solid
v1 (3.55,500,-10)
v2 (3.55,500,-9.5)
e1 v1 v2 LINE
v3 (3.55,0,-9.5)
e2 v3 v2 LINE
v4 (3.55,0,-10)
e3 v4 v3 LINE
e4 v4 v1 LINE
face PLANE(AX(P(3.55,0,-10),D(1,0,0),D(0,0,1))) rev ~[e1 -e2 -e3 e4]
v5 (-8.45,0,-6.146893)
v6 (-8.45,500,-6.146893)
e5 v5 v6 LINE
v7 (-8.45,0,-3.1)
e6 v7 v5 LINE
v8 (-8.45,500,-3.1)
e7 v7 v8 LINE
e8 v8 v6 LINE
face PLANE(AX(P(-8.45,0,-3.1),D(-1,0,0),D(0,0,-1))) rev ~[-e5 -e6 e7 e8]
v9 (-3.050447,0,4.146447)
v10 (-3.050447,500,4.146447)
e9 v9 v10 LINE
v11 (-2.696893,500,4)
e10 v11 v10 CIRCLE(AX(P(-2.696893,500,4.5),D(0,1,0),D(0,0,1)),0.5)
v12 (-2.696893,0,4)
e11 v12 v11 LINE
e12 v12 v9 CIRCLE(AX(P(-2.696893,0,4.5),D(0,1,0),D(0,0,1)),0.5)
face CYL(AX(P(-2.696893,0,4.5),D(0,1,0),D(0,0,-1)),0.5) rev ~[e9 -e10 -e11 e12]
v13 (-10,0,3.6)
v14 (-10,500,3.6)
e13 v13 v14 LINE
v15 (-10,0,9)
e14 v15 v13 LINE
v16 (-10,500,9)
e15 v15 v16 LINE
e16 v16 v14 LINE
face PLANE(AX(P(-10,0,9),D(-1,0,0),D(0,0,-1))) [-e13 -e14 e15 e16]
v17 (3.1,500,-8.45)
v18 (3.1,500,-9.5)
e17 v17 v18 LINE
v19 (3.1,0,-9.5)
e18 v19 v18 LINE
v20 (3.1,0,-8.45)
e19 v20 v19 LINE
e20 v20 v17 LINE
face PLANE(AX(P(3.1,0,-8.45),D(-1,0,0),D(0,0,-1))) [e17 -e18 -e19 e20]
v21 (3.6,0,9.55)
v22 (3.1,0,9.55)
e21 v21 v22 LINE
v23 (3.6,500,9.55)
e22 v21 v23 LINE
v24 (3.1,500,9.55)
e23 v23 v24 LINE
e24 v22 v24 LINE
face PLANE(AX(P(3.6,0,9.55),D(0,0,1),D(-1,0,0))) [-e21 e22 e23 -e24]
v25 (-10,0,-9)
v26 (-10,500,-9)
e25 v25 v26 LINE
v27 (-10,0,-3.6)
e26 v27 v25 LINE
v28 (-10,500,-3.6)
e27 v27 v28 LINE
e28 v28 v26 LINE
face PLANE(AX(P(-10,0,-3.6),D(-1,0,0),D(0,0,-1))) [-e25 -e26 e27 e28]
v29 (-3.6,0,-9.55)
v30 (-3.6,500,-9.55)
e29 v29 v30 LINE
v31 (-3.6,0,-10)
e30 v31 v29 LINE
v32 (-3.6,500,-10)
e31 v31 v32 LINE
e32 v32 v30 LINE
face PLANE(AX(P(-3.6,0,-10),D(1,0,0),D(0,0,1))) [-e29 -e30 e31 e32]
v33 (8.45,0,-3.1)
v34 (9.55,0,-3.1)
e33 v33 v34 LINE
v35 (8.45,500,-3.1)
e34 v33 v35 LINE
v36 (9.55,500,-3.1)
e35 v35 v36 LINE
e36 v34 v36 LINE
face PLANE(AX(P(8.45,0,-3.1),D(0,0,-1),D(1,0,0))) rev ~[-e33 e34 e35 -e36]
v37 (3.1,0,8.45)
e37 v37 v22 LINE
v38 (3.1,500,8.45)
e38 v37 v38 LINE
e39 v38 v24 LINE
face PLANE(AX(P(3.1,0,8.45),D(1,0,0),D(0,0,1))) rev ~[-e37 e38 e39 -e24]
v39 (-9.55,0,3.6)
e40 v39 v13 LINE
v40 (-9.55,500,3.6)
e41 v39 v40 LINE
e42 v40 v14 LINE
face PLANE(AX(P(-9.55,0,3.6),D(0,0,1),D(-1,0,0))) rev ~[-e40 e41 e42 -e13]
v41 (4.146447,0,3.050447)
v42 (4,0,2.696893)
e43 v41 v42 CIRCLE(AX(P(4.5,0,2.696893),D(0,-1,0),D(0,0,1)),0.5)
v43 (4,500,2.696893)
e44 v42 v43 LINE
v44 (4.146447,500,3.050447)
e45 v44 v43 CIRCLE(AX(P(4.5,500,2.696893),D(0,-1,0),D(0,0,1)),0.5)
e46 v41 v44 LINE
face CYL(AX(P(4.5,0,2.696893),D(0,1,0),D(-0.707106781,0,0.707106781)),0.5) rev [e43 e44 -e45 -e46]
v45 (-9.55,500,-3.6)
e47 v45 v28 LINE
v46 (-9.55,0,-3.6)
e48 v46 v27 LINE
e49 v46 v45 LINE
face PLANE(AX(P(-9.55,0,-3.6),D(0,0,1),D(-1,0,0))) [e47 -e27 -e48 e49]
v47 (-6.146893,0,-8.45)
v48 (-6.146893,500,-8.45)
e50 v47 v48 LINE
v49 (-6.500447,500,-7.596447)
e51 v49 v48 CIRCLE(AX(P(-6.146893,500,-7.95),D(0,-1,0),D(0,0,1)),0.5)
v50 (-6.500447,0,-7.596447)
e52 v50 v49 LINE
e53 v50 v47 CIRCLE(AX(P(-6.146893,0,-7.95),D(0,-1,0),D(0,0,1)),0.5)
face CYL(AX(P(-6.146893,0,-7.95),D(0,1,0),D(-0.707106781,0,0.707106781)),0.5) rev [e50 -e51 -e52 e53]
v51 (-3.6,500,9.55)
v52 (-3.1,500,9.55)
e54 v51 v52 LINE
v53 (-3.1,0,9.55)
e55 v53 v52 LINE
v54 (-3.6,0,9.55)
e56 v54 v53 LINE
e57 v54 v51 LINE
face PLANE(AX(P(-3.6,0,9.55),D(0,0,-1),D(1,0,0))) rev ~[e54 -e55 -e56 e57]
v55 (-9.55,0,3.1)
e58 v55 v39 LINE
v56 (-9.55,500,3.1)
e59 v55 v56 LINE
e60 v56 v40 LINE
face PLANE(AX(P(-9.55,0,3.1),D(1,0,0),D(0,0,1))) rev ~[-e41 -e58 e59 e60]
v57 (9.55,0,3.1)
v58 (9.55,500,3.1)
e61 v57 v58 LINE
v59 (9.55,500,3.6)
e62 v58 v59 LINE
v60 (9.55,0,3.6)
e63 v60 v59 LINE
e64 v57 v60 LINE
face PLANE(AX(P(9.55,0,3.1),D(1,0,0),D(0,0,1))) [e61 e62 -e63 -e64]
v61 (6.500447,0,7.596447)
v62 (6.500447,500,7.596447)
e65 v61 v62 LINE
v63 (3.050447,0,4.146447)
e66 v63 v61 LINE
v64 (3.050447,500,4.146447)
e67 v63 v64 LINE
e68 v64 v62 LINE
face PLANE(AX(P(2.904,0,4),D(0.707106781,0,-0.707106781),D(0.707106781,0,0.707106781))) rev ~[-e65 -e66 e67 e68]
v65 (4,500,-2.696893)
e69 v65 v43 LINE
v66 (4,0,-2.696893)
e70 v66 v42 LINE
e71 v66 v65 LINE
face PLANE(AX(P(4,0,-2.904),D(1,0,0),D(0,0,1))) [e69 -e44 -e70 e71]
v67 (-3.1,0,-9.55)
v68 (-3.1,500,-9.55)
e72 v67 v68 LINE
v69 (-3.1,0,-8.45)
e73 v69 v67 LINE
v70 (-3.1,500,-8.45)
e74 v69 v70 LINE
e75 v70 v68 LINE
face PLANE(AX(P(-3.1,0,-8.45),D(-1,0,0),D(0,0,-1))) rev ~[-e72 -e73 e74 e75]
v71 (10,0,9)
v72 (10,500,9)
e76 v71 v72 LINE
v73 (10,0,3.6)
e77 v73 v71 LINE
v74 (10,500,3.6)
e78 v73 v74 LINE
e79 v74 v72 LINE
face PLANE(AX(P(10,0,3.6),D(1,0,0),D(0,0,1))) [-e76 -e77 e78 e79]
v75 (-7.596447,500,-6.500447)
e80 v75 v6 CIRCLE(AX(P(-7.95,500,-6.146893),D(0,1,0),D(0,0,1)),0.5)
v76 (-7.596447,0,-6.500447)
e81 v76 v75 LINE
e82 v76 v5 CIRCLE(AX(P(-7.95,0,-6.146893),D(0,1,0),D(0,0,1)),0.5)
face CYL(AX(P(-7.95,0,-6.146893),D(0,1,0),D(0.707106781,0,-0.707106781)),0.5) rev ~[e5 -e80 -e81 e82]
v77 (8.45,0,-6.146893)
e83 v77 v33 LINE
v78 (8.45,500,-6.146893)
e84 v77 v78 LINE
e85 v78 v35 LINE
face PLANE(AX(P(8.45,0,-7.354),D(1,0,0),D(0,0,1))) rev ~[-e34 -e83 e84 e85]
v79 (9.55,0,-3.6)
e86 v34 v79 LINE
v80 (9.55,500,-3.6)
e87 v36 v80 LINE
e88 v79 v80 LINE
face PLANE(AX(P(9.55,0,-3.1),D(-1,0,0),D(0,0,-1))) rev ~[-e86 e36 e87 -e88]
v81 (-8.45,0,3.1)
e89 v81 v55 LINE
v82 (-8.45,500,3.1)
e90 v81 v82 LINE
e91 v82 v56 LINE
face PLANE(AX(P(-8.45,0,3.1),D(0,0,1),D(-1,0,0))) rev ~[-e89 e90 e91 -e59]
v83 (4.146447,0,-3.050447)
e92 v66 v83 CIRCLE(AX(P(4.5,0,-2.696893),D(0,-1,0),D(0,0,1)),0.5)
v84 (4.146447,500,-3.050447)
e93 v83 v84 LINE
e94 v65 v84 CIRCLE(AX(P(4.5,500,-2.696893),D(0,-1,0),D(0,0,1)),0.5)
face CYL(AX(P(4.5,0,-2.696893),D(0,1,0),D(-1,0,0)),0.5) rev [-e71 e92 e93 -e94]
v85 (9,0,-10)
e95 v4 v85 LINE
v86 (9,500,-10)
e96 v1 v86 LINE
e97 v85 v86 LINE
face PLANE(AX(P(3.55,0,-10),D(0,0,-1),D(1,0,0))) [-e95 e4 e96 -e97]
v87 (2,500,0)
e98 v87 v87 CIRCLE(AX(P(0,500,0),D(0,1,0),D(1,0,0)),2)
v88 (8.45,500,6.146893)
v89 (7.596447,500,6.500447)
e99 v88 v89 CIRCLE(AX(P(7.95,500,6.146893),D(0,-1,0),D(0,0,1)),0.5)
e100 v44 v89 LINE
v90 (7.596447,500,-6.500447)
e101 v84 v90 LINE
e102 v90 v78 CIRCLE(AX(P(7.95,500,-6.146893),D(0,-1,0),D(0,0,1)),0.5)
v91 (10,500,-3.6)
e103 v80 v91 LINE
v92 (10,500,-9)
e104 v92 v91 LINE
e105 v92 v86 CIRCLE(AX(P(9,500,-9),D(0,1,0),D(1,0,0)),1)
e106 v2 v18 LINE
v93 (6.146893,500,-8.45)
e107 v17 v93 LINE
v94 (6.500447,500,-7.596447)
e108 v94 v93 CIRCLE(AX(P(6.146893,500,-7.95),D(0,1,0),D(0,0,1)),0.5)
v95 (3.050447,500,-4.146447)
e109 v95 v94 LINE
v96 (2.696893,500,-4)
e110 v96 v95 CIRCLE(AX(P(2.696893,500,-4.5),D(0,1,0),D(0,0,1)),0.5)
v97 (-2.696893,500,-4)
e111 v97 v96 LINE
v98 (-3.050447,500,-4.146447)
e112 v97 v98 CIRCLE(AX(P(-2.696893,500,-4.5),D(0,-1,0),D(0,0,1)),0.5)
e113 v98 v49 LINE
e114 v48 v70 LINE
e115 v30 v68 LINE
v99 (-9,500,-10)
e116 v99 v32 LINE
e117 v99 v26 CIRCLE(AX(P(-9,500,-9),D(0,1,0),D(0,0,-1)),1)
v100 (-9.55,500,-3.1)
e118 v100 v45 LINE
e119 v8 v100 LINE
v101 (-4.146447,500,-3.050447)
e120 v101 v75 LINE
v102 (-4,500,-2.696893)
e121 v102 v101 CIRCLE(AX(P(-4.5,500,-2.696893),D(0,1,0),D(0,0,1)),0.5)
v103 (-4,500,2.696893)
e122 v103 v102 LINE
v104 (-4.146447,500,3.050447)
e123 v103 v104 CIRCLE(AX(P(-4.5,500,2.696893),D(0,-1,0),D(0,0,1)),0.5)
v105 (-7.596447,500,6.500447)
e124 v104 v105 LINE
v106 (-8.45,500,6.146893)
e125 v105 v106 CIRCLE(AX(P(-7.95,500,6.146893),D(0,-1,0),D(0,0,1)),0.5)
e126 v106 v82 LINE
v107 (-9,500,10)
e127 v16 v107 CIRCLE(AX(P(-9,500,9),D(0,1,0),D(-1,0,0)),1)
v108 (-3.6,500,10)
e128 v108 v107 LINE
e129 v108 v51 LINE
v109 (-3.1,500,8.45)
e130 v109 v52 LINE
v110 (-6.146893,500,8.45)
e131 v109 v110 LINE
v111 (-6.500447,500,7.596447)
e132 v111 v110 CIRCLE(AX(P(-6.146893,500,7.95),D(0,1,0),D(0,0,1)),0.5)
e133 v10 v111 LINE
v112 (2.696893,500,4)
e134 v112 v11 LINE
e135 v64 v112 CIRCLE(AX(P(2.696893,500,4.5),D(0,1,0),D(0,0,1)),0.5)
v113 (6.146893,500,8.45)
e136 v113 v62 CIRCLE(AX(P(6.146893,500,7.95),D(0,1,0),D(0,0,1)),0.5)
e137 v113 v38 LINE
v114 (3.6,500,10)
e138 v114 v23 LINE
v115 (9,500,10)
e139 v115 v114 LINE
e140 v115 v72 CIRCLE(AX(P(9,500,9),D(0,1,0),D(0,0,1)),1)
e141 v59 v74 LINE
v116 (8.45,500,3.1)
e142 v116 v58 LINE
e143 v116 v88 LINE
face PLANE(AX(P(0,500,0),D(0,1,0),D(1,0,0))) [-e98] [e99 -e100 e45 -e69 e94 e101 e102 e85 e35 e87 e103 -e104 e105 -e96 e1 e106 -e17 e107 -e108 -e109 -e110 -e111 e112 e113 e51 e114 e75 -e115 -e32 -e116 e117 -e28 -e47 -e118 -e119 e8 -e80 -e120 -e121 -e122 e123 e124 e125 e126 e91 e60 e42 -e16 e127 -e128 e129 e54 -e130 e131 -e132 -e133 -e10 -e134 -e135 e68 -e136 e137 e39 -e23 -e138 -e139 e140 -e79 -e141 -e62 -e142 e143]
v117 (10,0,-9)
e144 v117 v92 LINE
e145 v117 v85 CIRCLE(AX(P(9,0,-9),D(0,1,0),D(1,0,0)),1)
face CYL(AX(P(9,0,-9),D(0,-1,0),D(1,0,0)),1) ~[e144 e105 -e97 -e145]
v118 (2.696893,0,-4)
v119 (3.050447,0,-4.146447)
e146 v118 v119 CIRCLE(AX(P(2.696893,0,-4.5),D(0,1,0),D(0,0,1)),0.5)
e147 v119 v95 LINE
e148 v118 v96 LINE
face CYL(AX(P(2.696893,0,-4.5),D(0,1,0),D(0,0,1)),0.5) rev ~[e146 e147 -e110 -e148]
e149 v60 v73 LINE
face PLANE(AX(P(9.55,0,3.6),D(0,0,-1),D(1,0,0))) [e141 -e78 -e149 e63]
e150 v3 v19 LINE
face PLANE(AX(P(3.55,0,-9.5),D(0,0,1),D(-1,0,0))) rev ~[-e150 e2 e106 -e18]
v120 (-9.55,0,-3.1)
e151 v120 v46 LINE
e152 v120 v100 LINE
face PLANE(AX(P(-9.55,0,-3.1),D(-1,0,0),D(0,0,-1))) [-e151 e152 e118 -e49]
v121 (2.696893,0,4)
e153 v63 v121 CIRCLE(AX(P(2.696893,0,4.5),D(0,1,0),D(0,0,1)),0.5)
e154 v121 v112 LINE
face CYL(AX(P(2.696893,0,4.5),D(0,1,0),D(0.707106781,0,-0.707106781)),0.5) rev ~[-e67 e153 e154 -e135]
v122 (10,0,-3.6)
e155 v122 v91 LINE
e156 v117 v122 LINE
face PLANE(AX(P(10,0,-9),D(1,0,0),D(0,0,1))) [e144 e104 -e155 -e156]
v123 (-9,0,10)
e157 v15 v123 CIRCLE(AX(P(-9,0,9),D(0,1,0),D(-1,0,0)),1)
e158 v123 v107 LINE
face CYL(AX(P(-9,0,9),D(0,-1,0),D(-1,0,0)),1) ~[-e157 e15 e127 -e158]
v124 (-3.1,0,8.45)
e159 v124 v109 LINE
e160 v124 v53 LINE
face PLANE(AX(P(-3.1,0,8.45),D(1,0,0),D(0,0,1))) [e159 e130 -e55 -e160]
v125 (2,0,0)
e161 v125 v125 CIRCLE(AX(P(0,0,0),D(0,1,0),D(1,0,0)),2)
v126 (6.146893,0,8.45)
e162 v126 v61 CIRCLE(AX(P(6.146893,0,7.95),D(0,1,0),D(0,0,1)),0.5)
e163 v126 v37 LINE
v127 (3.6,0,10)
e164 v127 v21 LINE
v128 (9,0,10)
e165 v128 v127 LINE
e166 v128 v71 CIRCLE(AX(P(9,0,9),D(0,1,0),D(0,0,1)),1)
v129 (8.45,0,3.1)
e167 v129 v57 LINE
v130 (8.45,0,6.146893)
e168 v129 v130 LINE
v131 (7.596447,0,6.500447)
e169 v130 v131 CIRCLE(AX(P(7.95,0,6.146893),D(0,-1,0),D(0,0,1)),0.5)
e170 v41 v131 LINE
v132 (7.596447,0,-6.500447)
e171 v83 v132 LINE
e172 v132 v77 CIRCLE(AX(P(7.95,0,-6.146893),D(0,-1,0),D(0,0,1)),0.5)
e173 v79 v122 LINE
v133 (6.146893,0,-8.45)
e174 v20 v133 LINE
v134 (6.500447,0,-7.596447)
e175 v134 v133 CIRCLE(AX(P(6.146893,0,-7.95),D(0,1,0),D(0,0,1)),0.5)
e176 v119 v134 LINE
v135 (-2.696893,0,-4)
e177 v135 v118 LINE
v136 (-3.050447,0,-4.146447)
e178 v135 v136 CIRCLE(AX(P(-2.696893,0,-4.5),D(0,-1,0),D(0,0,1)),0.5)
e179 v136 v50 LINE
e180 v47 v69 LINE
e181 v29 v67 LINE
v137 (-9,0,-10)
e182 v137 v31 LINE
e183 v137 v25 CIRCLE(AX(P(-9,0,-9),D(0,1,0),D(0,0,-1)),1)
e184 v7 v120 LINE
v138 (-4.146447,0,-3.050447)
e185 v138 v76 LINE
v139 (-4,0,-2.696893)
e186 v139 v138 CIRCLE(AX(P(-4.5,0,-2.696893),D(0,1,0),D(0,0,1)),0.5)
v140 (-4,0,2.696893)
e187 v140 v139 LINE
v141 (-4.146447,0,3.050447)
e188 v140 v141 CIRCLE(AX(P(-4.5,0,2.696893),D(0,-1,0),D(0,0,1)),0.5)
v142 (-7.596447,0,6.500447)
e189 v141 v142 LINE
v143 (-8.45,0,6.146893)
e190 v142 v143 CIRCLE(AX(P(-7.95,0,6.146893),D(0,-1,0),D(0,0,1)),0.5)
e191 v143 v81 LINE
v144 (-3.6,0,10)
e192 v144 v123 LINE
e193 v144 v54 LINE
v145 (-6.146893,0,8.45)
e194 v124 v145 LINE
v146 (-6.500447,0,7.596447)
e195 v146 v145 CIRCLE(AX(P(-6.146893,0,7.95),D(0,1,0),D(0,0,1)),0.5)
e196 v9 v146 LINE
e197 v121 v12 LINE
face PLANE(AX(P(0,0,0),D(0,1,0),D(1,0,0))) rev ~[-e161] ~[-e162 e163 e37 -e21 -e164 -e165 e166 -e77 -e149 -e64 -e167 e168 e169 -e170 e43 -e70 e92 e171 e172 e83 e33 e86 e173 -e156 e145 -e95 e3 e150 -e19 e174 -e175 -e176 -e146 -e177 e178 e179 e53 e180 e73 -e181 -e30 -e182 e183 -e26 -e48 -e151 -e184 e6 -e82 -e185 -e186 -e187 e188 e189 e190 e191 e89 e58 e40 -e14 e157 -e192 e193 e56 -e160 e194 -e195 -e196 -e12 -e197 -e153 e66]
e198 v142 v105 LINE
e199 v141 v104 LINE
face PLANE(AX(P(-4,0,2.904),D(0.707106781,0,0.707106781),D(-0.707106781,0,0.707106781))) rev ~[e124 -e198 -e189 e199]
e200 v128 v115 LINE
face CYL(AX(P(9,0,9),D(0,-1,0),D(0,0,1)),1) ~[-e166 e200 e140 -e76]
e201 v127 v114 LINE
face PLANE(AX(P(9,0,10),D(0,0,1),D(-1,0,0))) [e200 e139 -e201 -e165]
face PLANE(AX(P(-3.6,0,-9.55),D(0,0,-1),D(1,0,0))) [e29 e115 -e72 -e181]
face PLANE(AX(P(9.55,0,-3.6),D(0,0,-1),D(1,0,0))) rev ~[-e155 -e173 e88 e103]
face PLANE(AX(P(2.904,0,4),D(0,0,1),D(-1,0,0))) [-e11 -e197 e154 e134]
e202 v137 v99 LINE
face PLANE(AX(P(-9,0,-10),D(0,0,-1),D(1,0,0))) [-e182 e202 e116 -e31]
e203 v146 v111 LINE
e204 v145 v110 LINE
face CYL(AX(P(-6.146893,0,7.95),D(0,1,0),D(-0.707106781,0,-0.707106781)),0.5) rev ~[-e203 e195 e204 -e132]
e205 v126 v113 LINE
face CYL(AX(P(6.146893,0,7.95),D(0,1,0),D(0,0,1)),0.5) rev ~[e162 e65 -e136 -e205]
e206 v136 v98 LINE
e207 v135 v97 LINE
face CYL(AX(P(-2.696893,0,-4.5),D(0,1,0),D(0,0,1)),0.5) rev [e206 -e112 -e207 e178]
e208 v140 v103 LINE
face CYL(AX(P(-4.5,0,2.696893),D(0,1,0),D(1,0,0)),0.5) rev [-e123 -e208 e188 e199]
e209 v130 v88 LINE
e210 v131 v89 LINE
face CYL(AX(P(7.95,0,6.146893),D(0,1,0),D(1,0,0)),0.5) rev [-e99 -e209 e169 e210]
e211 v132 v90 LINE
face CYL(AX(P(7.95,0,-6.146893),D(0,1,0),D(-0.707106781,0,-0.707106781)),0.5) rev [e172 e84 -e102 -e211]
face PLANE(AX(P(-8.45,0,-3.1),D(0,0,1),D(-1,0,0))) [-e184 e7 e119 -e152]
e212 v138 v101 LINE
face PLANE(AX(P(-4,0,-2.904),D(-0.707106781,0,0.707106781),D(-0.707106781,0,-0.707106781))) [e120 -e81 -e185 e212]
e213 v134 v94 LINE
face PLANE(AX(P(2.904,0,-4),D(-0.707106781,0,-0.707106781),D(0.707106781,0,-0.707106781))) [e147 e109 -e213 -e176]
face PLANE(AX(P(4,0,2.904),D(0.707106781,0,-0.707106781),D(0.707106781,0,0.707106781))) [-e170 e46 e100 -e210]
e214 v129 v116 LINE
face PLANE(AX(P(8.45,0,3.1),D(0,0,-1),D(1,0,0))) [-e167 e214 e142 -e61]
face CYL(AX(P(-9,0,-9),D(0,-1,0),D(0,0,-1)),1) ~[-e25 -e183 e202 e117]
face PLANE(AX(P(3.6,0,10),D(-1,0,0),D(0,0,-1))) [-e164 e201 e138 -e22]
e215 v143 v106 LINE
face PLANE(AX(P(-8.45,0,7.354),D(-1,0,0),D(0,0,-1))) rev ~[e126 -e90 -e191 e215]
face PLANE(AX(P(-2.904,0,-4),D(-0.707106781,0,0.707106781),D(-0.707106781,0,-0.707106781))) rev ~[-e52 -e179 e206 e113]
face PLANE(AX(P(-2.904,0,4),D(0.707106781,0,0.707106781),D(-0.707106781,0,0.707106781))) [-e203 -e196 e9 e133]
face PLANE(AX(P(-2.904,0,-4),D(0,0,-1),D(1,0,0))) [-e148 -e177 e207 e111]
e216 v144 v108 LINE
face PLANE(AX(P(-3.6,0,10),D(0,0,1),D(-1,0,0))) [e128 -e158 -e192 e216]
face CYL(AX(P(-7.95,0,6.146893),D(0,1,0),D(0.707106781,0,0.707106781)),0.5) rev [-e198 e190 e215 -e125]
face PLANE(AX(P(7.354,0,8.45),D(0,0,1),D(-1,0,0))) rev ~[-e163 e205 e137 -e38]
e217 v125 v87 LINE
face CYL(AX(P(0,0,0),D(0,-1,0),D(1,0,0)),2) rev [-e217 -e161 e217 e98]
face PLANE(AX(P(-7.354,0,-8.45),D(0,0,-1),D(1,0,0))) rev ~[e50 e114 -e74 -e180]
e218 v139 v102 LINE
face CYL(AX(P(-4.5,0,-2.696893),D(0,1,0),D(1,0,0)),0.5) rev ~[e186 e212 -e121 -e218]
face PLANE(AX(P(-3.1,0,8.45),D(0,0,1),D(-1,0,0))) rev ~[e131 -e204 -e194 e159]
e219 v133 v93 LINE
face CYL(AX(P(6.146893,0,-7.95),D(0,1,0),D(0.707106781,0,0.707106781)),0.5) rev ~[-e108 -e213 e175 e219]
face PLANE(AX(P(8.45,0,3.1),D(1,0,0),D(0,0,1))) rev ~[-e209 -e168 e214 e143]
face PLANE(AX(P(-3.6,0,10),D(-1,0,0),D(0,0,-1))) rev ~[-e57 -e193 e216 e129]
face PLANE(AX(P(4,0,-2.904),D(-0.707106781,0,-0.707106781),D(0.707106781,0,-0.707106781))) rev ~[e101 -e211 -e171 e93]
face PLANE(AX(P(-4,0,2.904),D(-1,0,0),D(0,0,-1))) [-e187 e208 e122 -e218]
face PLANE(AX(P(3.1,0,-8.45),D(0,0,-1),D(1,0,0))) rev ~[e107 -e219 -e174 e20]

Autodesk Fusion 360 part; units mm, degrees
sketch "Sketch1" plane through (0, 0, 0) normal (0, 1, 0) x (1, 0, 0)
  line L0 (9, -10) -> (-9, -10)
  line L1 (-10, -9) -> (-10, 9)
  line L2 (-9, 10) -> (9, 10)
  line L3 (10, 9) -> (10, -9)
  line L4 (10, -10) -> (-10, 10) construction
  line L5 (-10, -10) -> (10, 10) construction
  line L6 (4, -4) -> (-4, -4)
  line L7 (-4, -4) -> (-4, 4)
  line L8 (-4, 4) -> (4, 4)
  line L9 (4, 4) -> (4, -4)
  line L10 (4, -4) -> (-4, 4) construction
  line L11 (-4, -4) -> (4, 4) construction
  circle A0 centre (0, 0) radius 2
  line L12 (8.45, -8.45) -> (-8.45, -8.45)
  line L13 (-8.45, -8.45) -> (-8.45, 8.45)
  line L14 (-8.45, 8.45) -> (8.45, 8.45)
  line L15 (8.45, 8.45) -> (8.45, -8.45)
  line L16 (8.45, -8.45) -> (-8.45, 8.45) construction
  line L17 (-8.45, -8.45) -> (8.45, 8.45) construction
  line L18 (-9.452, -10.548) -> (10.548, 9.452) construction
  line L19 (-10.548, -9.452) -> (9.452, 10.548) construction
  line L20 (10.548, -9.452) -> (-9.452, 10.548) construction
  line L21 (9.452, -10.548) -> (-10.548, 9.452) construction
  line L22 (3.1, -10) -> (-3.1, -10) construction
  line L23 (-3.1, -10) -> (-3.1, 10) construction
  line L24 (-3.1, 10) -> (3.1, 10) construction
  line L25 (3.1, 10) -> (3.1, -10) construction
  line L26 (10, -3.1) -> (-10, -3.1) construction
  line L27 (-10, -3.1) -> (-10, 3.1) construction
  line L28 (-10, 3.1) -> (10, 3.1) construction
  line L29 (10, 3.1) -> (10, -3.1) construction
  line L30 (-3.1, -8.45) -> (-3.1, -10)
  line L31 (3.1, -8.45) -> (3.1, -10)
  line L32 (-8.45, -3.1) -> (-10, -3.1)
  line L33 (-8.45, 3.1) -> (-10, 3.1)
  line L34 (8.45, -3.1) -> (10, -3.1)
  line L35 (8.45, 3.1) -> (10, 3.1)
  line L36 (-3.1, 8.45) -> (-3.1, 10)
  line L37 (3.1, 8.45) -> (3.1, 10)
  line L38 (-4, 2.904) -> (-8.45, 7.354)
  line L39 (-2.904, 4) -> (-7.354, 8.45)
  line L40 (2.904, 4) -> (7.354, 8.45)
  line L41 (4, 2.904) -> (8.45, 7.354)
  line L42 (-4, -2.904) -> (-8.45, -7.354)
  line L43 (-2.904, -4) -> (-7.354, -8.45)
  line L44 (2.904, -4) -> (7.354, -8.45)
  line L45 (4, -2.904) -> (8.45, -7.354)
  line L46 (-10, -3.1) -> (-9.55, -3.1)
  line L47 (-9.55, -3.1) -> (-9.55, -3.6)
  line L48 (-9.55, -3.6) -> (-10, -3.6)
  line L49 (-10, -3.6) -> (-10, -3.1)
  line L50 (-10, 3.1) -> (-9.55, 3.1)
  line L51 (-9.55, 3.1) -> (-9.55, 3.6)
  line L52 (-9.55, 3.6) -> (-10, 3.6)
  line L53 (-10, 3.6) -> (-10, 3.1)
  line L54 (-3.1, -10) -> (-3.6, -10)
  line L55 (-3.6, -10) -> (-3.6, -9.55)
  line L56 (-3.6, -9.55) -> (-3.1, -9.55)
  line L57 (-3.1, -9.55) -> (-3.1, -10)
  line L58 (3.1, -10) -> (3.6, -10)
  line L59 (3.6, -10) -> (3.6, -9.55)
  line L60 (3.6, -9.55) -> (3.1, -9.55)
  line L61 (3.1, -9.55) -> (3.1, -10)
  line L62 (10, -3.1) -> (9.55, -3.1)
  line L63 (9.55, -3.1) -> (9.55, -3.6)
  line L64 (9.55, -3.6) -> (10, -3.6)
  line L65 (10, -3.6) -> (10, -3.1)
  line L66 (10, 3.1) -> (9.55, 3.1)
  line L67 (9.55, 3.1) -> (9.55, 3.6)
  line L68 (9.55, 3.6) -> (10, 3.6)
  line L69 (10, 3.6) -> (10, 3.1)
  line L70 (-3.1, 10) -> (-3.6, 10)
  line L71 (-3.6, 10) -> (-3.6, 9.55)
  line L72 (-3.6, 9.55) -> (-3.1, 9.55)
  line L73 (-3.1, 9.55) -> (-3.1, 10)
  line L74 (3.1, 10) -> (3.55, 10)
  line L75 (3.55, 10) -> (3.55, 9.5)
  line L76 (3.55, 9.5) -> (3.1, 9.5)
  line L77 (3.1, 9.5) -> (3.1, 10)
  arc A1 (-10, -9) -> (-9, -10) centre (-9, -9) ccw
  arc A2 (9, -10) -> (10, -9) centre (9, -9) ccw
  arc A3 (10, 9) -> (9, 10) centre (9, 9) ccw
  arc A4 (-9, 10) -> (-10, 9) centre (-9, 9) ccw
  dimension "d1" = 20
  dimension "d2" = 20
  dimension "d3" = 8
  dimension "d4" = 8
  dimension "d5" = 4
  dimension "d6" = 16.9
  dimension "d7" = 16.9
  dimension "d8" = 0.775
  dimension "d9" = -0.775
  dimension "d10" = 0.775
  dimension "d11" = -0.775
  dimension "d12" = 6.2
  dimension "d13" = 20
  dimension "d14" = 20
  dimension "d15" = 6.2
  dimension "d16" = 1.55
  dimension "d17" = 1.55
  dimension "d18" = 1.55
  dimension "d19" = 1.55
  dimension "d20" = 1.55
  dimension "d21" = 1.55
  dimension "d22" = 1.55
  dimension "d23" = 1.55
  dimension "d24" = 0.45
  dimension "d25" = 0.5
  dimension "d26" = 0.45
  dimension "d27" = 0.5
  dimension "d28" = 0.5
  dimension "d29" = 0.45
  dimension "d30" = 0.5
  dimension "d31" = 0.45
  dimension "d32" = 0.45
  dimension "d33" = 0.5
  dimension "d34" = 0.45
  dimension "d35" = 0.5
  dimension "d36" = 0.5
  dimension "d37" = 0.45
  dimension "d38" = 0.45
  dimension "d39" = 0.5
  dimension "d40" = 1
  dimension "d41" = 1
  dimension "d42" = 1
  dimension "d43" = 1
extrude "Extrude1" add sketch "Sketch1" along normal blind 500 contours L0 L3 L12 L15 L31 L34 L59 L60 L63 L64 A2 | L0 L1 L12 L13 L30 L32 L47 L48 L55 L56 A1 | L6 L9 L12 L15 L44 L45 | L2 L3 L14 L15 L35 L37 L67 L68 L75 L76 A3 | L6 L7 L12 L13 L42 L43 | L6 L7 L8 L9 | L8 L9 L14 L15 L40 L41 | L1 L2 L13 L14 L33 L36 L51 L52 L71 L72 A4 | L7 L8 L13 L14 L38 L39
fillet "Fillet1" radius 0.5 16 edges at (-8.45, 250, -7.354) (-7.354, 250, -8.45) (7.354, 250, -8.45) (8.45, 250, -7.354) (8.45, 250, 7.354) (7.354, 250, 8.45) (-7.354, 250, 8.45) (-8.45, 250, 7.354) (-2.904, 250, 4) (2.904, 250, 4) (-4, 250, 2.904) (-4, 250, -2.904) (-2.904, 250, -4) (2.904, 250, -4) (4, 250, -2.904) (4, 250, 2.904)
equation "d6 = 20 mm - ( ( 1.55 * 2 ) * 1 mm )"
equation "d7 = 20 mm - ( ( 1.55 * 2 ) * 1 mm )"
equation "d8 = ( 1.55 / 2 ) * 1 mm"
equation "d9 = ( -1.55 / 2 ) * 1 mm"
equation "d10 = ( 1.55 / 2 ) * 1 mm"
equation "d11 = ( -1.55 / 2 ) * 1 mm"
